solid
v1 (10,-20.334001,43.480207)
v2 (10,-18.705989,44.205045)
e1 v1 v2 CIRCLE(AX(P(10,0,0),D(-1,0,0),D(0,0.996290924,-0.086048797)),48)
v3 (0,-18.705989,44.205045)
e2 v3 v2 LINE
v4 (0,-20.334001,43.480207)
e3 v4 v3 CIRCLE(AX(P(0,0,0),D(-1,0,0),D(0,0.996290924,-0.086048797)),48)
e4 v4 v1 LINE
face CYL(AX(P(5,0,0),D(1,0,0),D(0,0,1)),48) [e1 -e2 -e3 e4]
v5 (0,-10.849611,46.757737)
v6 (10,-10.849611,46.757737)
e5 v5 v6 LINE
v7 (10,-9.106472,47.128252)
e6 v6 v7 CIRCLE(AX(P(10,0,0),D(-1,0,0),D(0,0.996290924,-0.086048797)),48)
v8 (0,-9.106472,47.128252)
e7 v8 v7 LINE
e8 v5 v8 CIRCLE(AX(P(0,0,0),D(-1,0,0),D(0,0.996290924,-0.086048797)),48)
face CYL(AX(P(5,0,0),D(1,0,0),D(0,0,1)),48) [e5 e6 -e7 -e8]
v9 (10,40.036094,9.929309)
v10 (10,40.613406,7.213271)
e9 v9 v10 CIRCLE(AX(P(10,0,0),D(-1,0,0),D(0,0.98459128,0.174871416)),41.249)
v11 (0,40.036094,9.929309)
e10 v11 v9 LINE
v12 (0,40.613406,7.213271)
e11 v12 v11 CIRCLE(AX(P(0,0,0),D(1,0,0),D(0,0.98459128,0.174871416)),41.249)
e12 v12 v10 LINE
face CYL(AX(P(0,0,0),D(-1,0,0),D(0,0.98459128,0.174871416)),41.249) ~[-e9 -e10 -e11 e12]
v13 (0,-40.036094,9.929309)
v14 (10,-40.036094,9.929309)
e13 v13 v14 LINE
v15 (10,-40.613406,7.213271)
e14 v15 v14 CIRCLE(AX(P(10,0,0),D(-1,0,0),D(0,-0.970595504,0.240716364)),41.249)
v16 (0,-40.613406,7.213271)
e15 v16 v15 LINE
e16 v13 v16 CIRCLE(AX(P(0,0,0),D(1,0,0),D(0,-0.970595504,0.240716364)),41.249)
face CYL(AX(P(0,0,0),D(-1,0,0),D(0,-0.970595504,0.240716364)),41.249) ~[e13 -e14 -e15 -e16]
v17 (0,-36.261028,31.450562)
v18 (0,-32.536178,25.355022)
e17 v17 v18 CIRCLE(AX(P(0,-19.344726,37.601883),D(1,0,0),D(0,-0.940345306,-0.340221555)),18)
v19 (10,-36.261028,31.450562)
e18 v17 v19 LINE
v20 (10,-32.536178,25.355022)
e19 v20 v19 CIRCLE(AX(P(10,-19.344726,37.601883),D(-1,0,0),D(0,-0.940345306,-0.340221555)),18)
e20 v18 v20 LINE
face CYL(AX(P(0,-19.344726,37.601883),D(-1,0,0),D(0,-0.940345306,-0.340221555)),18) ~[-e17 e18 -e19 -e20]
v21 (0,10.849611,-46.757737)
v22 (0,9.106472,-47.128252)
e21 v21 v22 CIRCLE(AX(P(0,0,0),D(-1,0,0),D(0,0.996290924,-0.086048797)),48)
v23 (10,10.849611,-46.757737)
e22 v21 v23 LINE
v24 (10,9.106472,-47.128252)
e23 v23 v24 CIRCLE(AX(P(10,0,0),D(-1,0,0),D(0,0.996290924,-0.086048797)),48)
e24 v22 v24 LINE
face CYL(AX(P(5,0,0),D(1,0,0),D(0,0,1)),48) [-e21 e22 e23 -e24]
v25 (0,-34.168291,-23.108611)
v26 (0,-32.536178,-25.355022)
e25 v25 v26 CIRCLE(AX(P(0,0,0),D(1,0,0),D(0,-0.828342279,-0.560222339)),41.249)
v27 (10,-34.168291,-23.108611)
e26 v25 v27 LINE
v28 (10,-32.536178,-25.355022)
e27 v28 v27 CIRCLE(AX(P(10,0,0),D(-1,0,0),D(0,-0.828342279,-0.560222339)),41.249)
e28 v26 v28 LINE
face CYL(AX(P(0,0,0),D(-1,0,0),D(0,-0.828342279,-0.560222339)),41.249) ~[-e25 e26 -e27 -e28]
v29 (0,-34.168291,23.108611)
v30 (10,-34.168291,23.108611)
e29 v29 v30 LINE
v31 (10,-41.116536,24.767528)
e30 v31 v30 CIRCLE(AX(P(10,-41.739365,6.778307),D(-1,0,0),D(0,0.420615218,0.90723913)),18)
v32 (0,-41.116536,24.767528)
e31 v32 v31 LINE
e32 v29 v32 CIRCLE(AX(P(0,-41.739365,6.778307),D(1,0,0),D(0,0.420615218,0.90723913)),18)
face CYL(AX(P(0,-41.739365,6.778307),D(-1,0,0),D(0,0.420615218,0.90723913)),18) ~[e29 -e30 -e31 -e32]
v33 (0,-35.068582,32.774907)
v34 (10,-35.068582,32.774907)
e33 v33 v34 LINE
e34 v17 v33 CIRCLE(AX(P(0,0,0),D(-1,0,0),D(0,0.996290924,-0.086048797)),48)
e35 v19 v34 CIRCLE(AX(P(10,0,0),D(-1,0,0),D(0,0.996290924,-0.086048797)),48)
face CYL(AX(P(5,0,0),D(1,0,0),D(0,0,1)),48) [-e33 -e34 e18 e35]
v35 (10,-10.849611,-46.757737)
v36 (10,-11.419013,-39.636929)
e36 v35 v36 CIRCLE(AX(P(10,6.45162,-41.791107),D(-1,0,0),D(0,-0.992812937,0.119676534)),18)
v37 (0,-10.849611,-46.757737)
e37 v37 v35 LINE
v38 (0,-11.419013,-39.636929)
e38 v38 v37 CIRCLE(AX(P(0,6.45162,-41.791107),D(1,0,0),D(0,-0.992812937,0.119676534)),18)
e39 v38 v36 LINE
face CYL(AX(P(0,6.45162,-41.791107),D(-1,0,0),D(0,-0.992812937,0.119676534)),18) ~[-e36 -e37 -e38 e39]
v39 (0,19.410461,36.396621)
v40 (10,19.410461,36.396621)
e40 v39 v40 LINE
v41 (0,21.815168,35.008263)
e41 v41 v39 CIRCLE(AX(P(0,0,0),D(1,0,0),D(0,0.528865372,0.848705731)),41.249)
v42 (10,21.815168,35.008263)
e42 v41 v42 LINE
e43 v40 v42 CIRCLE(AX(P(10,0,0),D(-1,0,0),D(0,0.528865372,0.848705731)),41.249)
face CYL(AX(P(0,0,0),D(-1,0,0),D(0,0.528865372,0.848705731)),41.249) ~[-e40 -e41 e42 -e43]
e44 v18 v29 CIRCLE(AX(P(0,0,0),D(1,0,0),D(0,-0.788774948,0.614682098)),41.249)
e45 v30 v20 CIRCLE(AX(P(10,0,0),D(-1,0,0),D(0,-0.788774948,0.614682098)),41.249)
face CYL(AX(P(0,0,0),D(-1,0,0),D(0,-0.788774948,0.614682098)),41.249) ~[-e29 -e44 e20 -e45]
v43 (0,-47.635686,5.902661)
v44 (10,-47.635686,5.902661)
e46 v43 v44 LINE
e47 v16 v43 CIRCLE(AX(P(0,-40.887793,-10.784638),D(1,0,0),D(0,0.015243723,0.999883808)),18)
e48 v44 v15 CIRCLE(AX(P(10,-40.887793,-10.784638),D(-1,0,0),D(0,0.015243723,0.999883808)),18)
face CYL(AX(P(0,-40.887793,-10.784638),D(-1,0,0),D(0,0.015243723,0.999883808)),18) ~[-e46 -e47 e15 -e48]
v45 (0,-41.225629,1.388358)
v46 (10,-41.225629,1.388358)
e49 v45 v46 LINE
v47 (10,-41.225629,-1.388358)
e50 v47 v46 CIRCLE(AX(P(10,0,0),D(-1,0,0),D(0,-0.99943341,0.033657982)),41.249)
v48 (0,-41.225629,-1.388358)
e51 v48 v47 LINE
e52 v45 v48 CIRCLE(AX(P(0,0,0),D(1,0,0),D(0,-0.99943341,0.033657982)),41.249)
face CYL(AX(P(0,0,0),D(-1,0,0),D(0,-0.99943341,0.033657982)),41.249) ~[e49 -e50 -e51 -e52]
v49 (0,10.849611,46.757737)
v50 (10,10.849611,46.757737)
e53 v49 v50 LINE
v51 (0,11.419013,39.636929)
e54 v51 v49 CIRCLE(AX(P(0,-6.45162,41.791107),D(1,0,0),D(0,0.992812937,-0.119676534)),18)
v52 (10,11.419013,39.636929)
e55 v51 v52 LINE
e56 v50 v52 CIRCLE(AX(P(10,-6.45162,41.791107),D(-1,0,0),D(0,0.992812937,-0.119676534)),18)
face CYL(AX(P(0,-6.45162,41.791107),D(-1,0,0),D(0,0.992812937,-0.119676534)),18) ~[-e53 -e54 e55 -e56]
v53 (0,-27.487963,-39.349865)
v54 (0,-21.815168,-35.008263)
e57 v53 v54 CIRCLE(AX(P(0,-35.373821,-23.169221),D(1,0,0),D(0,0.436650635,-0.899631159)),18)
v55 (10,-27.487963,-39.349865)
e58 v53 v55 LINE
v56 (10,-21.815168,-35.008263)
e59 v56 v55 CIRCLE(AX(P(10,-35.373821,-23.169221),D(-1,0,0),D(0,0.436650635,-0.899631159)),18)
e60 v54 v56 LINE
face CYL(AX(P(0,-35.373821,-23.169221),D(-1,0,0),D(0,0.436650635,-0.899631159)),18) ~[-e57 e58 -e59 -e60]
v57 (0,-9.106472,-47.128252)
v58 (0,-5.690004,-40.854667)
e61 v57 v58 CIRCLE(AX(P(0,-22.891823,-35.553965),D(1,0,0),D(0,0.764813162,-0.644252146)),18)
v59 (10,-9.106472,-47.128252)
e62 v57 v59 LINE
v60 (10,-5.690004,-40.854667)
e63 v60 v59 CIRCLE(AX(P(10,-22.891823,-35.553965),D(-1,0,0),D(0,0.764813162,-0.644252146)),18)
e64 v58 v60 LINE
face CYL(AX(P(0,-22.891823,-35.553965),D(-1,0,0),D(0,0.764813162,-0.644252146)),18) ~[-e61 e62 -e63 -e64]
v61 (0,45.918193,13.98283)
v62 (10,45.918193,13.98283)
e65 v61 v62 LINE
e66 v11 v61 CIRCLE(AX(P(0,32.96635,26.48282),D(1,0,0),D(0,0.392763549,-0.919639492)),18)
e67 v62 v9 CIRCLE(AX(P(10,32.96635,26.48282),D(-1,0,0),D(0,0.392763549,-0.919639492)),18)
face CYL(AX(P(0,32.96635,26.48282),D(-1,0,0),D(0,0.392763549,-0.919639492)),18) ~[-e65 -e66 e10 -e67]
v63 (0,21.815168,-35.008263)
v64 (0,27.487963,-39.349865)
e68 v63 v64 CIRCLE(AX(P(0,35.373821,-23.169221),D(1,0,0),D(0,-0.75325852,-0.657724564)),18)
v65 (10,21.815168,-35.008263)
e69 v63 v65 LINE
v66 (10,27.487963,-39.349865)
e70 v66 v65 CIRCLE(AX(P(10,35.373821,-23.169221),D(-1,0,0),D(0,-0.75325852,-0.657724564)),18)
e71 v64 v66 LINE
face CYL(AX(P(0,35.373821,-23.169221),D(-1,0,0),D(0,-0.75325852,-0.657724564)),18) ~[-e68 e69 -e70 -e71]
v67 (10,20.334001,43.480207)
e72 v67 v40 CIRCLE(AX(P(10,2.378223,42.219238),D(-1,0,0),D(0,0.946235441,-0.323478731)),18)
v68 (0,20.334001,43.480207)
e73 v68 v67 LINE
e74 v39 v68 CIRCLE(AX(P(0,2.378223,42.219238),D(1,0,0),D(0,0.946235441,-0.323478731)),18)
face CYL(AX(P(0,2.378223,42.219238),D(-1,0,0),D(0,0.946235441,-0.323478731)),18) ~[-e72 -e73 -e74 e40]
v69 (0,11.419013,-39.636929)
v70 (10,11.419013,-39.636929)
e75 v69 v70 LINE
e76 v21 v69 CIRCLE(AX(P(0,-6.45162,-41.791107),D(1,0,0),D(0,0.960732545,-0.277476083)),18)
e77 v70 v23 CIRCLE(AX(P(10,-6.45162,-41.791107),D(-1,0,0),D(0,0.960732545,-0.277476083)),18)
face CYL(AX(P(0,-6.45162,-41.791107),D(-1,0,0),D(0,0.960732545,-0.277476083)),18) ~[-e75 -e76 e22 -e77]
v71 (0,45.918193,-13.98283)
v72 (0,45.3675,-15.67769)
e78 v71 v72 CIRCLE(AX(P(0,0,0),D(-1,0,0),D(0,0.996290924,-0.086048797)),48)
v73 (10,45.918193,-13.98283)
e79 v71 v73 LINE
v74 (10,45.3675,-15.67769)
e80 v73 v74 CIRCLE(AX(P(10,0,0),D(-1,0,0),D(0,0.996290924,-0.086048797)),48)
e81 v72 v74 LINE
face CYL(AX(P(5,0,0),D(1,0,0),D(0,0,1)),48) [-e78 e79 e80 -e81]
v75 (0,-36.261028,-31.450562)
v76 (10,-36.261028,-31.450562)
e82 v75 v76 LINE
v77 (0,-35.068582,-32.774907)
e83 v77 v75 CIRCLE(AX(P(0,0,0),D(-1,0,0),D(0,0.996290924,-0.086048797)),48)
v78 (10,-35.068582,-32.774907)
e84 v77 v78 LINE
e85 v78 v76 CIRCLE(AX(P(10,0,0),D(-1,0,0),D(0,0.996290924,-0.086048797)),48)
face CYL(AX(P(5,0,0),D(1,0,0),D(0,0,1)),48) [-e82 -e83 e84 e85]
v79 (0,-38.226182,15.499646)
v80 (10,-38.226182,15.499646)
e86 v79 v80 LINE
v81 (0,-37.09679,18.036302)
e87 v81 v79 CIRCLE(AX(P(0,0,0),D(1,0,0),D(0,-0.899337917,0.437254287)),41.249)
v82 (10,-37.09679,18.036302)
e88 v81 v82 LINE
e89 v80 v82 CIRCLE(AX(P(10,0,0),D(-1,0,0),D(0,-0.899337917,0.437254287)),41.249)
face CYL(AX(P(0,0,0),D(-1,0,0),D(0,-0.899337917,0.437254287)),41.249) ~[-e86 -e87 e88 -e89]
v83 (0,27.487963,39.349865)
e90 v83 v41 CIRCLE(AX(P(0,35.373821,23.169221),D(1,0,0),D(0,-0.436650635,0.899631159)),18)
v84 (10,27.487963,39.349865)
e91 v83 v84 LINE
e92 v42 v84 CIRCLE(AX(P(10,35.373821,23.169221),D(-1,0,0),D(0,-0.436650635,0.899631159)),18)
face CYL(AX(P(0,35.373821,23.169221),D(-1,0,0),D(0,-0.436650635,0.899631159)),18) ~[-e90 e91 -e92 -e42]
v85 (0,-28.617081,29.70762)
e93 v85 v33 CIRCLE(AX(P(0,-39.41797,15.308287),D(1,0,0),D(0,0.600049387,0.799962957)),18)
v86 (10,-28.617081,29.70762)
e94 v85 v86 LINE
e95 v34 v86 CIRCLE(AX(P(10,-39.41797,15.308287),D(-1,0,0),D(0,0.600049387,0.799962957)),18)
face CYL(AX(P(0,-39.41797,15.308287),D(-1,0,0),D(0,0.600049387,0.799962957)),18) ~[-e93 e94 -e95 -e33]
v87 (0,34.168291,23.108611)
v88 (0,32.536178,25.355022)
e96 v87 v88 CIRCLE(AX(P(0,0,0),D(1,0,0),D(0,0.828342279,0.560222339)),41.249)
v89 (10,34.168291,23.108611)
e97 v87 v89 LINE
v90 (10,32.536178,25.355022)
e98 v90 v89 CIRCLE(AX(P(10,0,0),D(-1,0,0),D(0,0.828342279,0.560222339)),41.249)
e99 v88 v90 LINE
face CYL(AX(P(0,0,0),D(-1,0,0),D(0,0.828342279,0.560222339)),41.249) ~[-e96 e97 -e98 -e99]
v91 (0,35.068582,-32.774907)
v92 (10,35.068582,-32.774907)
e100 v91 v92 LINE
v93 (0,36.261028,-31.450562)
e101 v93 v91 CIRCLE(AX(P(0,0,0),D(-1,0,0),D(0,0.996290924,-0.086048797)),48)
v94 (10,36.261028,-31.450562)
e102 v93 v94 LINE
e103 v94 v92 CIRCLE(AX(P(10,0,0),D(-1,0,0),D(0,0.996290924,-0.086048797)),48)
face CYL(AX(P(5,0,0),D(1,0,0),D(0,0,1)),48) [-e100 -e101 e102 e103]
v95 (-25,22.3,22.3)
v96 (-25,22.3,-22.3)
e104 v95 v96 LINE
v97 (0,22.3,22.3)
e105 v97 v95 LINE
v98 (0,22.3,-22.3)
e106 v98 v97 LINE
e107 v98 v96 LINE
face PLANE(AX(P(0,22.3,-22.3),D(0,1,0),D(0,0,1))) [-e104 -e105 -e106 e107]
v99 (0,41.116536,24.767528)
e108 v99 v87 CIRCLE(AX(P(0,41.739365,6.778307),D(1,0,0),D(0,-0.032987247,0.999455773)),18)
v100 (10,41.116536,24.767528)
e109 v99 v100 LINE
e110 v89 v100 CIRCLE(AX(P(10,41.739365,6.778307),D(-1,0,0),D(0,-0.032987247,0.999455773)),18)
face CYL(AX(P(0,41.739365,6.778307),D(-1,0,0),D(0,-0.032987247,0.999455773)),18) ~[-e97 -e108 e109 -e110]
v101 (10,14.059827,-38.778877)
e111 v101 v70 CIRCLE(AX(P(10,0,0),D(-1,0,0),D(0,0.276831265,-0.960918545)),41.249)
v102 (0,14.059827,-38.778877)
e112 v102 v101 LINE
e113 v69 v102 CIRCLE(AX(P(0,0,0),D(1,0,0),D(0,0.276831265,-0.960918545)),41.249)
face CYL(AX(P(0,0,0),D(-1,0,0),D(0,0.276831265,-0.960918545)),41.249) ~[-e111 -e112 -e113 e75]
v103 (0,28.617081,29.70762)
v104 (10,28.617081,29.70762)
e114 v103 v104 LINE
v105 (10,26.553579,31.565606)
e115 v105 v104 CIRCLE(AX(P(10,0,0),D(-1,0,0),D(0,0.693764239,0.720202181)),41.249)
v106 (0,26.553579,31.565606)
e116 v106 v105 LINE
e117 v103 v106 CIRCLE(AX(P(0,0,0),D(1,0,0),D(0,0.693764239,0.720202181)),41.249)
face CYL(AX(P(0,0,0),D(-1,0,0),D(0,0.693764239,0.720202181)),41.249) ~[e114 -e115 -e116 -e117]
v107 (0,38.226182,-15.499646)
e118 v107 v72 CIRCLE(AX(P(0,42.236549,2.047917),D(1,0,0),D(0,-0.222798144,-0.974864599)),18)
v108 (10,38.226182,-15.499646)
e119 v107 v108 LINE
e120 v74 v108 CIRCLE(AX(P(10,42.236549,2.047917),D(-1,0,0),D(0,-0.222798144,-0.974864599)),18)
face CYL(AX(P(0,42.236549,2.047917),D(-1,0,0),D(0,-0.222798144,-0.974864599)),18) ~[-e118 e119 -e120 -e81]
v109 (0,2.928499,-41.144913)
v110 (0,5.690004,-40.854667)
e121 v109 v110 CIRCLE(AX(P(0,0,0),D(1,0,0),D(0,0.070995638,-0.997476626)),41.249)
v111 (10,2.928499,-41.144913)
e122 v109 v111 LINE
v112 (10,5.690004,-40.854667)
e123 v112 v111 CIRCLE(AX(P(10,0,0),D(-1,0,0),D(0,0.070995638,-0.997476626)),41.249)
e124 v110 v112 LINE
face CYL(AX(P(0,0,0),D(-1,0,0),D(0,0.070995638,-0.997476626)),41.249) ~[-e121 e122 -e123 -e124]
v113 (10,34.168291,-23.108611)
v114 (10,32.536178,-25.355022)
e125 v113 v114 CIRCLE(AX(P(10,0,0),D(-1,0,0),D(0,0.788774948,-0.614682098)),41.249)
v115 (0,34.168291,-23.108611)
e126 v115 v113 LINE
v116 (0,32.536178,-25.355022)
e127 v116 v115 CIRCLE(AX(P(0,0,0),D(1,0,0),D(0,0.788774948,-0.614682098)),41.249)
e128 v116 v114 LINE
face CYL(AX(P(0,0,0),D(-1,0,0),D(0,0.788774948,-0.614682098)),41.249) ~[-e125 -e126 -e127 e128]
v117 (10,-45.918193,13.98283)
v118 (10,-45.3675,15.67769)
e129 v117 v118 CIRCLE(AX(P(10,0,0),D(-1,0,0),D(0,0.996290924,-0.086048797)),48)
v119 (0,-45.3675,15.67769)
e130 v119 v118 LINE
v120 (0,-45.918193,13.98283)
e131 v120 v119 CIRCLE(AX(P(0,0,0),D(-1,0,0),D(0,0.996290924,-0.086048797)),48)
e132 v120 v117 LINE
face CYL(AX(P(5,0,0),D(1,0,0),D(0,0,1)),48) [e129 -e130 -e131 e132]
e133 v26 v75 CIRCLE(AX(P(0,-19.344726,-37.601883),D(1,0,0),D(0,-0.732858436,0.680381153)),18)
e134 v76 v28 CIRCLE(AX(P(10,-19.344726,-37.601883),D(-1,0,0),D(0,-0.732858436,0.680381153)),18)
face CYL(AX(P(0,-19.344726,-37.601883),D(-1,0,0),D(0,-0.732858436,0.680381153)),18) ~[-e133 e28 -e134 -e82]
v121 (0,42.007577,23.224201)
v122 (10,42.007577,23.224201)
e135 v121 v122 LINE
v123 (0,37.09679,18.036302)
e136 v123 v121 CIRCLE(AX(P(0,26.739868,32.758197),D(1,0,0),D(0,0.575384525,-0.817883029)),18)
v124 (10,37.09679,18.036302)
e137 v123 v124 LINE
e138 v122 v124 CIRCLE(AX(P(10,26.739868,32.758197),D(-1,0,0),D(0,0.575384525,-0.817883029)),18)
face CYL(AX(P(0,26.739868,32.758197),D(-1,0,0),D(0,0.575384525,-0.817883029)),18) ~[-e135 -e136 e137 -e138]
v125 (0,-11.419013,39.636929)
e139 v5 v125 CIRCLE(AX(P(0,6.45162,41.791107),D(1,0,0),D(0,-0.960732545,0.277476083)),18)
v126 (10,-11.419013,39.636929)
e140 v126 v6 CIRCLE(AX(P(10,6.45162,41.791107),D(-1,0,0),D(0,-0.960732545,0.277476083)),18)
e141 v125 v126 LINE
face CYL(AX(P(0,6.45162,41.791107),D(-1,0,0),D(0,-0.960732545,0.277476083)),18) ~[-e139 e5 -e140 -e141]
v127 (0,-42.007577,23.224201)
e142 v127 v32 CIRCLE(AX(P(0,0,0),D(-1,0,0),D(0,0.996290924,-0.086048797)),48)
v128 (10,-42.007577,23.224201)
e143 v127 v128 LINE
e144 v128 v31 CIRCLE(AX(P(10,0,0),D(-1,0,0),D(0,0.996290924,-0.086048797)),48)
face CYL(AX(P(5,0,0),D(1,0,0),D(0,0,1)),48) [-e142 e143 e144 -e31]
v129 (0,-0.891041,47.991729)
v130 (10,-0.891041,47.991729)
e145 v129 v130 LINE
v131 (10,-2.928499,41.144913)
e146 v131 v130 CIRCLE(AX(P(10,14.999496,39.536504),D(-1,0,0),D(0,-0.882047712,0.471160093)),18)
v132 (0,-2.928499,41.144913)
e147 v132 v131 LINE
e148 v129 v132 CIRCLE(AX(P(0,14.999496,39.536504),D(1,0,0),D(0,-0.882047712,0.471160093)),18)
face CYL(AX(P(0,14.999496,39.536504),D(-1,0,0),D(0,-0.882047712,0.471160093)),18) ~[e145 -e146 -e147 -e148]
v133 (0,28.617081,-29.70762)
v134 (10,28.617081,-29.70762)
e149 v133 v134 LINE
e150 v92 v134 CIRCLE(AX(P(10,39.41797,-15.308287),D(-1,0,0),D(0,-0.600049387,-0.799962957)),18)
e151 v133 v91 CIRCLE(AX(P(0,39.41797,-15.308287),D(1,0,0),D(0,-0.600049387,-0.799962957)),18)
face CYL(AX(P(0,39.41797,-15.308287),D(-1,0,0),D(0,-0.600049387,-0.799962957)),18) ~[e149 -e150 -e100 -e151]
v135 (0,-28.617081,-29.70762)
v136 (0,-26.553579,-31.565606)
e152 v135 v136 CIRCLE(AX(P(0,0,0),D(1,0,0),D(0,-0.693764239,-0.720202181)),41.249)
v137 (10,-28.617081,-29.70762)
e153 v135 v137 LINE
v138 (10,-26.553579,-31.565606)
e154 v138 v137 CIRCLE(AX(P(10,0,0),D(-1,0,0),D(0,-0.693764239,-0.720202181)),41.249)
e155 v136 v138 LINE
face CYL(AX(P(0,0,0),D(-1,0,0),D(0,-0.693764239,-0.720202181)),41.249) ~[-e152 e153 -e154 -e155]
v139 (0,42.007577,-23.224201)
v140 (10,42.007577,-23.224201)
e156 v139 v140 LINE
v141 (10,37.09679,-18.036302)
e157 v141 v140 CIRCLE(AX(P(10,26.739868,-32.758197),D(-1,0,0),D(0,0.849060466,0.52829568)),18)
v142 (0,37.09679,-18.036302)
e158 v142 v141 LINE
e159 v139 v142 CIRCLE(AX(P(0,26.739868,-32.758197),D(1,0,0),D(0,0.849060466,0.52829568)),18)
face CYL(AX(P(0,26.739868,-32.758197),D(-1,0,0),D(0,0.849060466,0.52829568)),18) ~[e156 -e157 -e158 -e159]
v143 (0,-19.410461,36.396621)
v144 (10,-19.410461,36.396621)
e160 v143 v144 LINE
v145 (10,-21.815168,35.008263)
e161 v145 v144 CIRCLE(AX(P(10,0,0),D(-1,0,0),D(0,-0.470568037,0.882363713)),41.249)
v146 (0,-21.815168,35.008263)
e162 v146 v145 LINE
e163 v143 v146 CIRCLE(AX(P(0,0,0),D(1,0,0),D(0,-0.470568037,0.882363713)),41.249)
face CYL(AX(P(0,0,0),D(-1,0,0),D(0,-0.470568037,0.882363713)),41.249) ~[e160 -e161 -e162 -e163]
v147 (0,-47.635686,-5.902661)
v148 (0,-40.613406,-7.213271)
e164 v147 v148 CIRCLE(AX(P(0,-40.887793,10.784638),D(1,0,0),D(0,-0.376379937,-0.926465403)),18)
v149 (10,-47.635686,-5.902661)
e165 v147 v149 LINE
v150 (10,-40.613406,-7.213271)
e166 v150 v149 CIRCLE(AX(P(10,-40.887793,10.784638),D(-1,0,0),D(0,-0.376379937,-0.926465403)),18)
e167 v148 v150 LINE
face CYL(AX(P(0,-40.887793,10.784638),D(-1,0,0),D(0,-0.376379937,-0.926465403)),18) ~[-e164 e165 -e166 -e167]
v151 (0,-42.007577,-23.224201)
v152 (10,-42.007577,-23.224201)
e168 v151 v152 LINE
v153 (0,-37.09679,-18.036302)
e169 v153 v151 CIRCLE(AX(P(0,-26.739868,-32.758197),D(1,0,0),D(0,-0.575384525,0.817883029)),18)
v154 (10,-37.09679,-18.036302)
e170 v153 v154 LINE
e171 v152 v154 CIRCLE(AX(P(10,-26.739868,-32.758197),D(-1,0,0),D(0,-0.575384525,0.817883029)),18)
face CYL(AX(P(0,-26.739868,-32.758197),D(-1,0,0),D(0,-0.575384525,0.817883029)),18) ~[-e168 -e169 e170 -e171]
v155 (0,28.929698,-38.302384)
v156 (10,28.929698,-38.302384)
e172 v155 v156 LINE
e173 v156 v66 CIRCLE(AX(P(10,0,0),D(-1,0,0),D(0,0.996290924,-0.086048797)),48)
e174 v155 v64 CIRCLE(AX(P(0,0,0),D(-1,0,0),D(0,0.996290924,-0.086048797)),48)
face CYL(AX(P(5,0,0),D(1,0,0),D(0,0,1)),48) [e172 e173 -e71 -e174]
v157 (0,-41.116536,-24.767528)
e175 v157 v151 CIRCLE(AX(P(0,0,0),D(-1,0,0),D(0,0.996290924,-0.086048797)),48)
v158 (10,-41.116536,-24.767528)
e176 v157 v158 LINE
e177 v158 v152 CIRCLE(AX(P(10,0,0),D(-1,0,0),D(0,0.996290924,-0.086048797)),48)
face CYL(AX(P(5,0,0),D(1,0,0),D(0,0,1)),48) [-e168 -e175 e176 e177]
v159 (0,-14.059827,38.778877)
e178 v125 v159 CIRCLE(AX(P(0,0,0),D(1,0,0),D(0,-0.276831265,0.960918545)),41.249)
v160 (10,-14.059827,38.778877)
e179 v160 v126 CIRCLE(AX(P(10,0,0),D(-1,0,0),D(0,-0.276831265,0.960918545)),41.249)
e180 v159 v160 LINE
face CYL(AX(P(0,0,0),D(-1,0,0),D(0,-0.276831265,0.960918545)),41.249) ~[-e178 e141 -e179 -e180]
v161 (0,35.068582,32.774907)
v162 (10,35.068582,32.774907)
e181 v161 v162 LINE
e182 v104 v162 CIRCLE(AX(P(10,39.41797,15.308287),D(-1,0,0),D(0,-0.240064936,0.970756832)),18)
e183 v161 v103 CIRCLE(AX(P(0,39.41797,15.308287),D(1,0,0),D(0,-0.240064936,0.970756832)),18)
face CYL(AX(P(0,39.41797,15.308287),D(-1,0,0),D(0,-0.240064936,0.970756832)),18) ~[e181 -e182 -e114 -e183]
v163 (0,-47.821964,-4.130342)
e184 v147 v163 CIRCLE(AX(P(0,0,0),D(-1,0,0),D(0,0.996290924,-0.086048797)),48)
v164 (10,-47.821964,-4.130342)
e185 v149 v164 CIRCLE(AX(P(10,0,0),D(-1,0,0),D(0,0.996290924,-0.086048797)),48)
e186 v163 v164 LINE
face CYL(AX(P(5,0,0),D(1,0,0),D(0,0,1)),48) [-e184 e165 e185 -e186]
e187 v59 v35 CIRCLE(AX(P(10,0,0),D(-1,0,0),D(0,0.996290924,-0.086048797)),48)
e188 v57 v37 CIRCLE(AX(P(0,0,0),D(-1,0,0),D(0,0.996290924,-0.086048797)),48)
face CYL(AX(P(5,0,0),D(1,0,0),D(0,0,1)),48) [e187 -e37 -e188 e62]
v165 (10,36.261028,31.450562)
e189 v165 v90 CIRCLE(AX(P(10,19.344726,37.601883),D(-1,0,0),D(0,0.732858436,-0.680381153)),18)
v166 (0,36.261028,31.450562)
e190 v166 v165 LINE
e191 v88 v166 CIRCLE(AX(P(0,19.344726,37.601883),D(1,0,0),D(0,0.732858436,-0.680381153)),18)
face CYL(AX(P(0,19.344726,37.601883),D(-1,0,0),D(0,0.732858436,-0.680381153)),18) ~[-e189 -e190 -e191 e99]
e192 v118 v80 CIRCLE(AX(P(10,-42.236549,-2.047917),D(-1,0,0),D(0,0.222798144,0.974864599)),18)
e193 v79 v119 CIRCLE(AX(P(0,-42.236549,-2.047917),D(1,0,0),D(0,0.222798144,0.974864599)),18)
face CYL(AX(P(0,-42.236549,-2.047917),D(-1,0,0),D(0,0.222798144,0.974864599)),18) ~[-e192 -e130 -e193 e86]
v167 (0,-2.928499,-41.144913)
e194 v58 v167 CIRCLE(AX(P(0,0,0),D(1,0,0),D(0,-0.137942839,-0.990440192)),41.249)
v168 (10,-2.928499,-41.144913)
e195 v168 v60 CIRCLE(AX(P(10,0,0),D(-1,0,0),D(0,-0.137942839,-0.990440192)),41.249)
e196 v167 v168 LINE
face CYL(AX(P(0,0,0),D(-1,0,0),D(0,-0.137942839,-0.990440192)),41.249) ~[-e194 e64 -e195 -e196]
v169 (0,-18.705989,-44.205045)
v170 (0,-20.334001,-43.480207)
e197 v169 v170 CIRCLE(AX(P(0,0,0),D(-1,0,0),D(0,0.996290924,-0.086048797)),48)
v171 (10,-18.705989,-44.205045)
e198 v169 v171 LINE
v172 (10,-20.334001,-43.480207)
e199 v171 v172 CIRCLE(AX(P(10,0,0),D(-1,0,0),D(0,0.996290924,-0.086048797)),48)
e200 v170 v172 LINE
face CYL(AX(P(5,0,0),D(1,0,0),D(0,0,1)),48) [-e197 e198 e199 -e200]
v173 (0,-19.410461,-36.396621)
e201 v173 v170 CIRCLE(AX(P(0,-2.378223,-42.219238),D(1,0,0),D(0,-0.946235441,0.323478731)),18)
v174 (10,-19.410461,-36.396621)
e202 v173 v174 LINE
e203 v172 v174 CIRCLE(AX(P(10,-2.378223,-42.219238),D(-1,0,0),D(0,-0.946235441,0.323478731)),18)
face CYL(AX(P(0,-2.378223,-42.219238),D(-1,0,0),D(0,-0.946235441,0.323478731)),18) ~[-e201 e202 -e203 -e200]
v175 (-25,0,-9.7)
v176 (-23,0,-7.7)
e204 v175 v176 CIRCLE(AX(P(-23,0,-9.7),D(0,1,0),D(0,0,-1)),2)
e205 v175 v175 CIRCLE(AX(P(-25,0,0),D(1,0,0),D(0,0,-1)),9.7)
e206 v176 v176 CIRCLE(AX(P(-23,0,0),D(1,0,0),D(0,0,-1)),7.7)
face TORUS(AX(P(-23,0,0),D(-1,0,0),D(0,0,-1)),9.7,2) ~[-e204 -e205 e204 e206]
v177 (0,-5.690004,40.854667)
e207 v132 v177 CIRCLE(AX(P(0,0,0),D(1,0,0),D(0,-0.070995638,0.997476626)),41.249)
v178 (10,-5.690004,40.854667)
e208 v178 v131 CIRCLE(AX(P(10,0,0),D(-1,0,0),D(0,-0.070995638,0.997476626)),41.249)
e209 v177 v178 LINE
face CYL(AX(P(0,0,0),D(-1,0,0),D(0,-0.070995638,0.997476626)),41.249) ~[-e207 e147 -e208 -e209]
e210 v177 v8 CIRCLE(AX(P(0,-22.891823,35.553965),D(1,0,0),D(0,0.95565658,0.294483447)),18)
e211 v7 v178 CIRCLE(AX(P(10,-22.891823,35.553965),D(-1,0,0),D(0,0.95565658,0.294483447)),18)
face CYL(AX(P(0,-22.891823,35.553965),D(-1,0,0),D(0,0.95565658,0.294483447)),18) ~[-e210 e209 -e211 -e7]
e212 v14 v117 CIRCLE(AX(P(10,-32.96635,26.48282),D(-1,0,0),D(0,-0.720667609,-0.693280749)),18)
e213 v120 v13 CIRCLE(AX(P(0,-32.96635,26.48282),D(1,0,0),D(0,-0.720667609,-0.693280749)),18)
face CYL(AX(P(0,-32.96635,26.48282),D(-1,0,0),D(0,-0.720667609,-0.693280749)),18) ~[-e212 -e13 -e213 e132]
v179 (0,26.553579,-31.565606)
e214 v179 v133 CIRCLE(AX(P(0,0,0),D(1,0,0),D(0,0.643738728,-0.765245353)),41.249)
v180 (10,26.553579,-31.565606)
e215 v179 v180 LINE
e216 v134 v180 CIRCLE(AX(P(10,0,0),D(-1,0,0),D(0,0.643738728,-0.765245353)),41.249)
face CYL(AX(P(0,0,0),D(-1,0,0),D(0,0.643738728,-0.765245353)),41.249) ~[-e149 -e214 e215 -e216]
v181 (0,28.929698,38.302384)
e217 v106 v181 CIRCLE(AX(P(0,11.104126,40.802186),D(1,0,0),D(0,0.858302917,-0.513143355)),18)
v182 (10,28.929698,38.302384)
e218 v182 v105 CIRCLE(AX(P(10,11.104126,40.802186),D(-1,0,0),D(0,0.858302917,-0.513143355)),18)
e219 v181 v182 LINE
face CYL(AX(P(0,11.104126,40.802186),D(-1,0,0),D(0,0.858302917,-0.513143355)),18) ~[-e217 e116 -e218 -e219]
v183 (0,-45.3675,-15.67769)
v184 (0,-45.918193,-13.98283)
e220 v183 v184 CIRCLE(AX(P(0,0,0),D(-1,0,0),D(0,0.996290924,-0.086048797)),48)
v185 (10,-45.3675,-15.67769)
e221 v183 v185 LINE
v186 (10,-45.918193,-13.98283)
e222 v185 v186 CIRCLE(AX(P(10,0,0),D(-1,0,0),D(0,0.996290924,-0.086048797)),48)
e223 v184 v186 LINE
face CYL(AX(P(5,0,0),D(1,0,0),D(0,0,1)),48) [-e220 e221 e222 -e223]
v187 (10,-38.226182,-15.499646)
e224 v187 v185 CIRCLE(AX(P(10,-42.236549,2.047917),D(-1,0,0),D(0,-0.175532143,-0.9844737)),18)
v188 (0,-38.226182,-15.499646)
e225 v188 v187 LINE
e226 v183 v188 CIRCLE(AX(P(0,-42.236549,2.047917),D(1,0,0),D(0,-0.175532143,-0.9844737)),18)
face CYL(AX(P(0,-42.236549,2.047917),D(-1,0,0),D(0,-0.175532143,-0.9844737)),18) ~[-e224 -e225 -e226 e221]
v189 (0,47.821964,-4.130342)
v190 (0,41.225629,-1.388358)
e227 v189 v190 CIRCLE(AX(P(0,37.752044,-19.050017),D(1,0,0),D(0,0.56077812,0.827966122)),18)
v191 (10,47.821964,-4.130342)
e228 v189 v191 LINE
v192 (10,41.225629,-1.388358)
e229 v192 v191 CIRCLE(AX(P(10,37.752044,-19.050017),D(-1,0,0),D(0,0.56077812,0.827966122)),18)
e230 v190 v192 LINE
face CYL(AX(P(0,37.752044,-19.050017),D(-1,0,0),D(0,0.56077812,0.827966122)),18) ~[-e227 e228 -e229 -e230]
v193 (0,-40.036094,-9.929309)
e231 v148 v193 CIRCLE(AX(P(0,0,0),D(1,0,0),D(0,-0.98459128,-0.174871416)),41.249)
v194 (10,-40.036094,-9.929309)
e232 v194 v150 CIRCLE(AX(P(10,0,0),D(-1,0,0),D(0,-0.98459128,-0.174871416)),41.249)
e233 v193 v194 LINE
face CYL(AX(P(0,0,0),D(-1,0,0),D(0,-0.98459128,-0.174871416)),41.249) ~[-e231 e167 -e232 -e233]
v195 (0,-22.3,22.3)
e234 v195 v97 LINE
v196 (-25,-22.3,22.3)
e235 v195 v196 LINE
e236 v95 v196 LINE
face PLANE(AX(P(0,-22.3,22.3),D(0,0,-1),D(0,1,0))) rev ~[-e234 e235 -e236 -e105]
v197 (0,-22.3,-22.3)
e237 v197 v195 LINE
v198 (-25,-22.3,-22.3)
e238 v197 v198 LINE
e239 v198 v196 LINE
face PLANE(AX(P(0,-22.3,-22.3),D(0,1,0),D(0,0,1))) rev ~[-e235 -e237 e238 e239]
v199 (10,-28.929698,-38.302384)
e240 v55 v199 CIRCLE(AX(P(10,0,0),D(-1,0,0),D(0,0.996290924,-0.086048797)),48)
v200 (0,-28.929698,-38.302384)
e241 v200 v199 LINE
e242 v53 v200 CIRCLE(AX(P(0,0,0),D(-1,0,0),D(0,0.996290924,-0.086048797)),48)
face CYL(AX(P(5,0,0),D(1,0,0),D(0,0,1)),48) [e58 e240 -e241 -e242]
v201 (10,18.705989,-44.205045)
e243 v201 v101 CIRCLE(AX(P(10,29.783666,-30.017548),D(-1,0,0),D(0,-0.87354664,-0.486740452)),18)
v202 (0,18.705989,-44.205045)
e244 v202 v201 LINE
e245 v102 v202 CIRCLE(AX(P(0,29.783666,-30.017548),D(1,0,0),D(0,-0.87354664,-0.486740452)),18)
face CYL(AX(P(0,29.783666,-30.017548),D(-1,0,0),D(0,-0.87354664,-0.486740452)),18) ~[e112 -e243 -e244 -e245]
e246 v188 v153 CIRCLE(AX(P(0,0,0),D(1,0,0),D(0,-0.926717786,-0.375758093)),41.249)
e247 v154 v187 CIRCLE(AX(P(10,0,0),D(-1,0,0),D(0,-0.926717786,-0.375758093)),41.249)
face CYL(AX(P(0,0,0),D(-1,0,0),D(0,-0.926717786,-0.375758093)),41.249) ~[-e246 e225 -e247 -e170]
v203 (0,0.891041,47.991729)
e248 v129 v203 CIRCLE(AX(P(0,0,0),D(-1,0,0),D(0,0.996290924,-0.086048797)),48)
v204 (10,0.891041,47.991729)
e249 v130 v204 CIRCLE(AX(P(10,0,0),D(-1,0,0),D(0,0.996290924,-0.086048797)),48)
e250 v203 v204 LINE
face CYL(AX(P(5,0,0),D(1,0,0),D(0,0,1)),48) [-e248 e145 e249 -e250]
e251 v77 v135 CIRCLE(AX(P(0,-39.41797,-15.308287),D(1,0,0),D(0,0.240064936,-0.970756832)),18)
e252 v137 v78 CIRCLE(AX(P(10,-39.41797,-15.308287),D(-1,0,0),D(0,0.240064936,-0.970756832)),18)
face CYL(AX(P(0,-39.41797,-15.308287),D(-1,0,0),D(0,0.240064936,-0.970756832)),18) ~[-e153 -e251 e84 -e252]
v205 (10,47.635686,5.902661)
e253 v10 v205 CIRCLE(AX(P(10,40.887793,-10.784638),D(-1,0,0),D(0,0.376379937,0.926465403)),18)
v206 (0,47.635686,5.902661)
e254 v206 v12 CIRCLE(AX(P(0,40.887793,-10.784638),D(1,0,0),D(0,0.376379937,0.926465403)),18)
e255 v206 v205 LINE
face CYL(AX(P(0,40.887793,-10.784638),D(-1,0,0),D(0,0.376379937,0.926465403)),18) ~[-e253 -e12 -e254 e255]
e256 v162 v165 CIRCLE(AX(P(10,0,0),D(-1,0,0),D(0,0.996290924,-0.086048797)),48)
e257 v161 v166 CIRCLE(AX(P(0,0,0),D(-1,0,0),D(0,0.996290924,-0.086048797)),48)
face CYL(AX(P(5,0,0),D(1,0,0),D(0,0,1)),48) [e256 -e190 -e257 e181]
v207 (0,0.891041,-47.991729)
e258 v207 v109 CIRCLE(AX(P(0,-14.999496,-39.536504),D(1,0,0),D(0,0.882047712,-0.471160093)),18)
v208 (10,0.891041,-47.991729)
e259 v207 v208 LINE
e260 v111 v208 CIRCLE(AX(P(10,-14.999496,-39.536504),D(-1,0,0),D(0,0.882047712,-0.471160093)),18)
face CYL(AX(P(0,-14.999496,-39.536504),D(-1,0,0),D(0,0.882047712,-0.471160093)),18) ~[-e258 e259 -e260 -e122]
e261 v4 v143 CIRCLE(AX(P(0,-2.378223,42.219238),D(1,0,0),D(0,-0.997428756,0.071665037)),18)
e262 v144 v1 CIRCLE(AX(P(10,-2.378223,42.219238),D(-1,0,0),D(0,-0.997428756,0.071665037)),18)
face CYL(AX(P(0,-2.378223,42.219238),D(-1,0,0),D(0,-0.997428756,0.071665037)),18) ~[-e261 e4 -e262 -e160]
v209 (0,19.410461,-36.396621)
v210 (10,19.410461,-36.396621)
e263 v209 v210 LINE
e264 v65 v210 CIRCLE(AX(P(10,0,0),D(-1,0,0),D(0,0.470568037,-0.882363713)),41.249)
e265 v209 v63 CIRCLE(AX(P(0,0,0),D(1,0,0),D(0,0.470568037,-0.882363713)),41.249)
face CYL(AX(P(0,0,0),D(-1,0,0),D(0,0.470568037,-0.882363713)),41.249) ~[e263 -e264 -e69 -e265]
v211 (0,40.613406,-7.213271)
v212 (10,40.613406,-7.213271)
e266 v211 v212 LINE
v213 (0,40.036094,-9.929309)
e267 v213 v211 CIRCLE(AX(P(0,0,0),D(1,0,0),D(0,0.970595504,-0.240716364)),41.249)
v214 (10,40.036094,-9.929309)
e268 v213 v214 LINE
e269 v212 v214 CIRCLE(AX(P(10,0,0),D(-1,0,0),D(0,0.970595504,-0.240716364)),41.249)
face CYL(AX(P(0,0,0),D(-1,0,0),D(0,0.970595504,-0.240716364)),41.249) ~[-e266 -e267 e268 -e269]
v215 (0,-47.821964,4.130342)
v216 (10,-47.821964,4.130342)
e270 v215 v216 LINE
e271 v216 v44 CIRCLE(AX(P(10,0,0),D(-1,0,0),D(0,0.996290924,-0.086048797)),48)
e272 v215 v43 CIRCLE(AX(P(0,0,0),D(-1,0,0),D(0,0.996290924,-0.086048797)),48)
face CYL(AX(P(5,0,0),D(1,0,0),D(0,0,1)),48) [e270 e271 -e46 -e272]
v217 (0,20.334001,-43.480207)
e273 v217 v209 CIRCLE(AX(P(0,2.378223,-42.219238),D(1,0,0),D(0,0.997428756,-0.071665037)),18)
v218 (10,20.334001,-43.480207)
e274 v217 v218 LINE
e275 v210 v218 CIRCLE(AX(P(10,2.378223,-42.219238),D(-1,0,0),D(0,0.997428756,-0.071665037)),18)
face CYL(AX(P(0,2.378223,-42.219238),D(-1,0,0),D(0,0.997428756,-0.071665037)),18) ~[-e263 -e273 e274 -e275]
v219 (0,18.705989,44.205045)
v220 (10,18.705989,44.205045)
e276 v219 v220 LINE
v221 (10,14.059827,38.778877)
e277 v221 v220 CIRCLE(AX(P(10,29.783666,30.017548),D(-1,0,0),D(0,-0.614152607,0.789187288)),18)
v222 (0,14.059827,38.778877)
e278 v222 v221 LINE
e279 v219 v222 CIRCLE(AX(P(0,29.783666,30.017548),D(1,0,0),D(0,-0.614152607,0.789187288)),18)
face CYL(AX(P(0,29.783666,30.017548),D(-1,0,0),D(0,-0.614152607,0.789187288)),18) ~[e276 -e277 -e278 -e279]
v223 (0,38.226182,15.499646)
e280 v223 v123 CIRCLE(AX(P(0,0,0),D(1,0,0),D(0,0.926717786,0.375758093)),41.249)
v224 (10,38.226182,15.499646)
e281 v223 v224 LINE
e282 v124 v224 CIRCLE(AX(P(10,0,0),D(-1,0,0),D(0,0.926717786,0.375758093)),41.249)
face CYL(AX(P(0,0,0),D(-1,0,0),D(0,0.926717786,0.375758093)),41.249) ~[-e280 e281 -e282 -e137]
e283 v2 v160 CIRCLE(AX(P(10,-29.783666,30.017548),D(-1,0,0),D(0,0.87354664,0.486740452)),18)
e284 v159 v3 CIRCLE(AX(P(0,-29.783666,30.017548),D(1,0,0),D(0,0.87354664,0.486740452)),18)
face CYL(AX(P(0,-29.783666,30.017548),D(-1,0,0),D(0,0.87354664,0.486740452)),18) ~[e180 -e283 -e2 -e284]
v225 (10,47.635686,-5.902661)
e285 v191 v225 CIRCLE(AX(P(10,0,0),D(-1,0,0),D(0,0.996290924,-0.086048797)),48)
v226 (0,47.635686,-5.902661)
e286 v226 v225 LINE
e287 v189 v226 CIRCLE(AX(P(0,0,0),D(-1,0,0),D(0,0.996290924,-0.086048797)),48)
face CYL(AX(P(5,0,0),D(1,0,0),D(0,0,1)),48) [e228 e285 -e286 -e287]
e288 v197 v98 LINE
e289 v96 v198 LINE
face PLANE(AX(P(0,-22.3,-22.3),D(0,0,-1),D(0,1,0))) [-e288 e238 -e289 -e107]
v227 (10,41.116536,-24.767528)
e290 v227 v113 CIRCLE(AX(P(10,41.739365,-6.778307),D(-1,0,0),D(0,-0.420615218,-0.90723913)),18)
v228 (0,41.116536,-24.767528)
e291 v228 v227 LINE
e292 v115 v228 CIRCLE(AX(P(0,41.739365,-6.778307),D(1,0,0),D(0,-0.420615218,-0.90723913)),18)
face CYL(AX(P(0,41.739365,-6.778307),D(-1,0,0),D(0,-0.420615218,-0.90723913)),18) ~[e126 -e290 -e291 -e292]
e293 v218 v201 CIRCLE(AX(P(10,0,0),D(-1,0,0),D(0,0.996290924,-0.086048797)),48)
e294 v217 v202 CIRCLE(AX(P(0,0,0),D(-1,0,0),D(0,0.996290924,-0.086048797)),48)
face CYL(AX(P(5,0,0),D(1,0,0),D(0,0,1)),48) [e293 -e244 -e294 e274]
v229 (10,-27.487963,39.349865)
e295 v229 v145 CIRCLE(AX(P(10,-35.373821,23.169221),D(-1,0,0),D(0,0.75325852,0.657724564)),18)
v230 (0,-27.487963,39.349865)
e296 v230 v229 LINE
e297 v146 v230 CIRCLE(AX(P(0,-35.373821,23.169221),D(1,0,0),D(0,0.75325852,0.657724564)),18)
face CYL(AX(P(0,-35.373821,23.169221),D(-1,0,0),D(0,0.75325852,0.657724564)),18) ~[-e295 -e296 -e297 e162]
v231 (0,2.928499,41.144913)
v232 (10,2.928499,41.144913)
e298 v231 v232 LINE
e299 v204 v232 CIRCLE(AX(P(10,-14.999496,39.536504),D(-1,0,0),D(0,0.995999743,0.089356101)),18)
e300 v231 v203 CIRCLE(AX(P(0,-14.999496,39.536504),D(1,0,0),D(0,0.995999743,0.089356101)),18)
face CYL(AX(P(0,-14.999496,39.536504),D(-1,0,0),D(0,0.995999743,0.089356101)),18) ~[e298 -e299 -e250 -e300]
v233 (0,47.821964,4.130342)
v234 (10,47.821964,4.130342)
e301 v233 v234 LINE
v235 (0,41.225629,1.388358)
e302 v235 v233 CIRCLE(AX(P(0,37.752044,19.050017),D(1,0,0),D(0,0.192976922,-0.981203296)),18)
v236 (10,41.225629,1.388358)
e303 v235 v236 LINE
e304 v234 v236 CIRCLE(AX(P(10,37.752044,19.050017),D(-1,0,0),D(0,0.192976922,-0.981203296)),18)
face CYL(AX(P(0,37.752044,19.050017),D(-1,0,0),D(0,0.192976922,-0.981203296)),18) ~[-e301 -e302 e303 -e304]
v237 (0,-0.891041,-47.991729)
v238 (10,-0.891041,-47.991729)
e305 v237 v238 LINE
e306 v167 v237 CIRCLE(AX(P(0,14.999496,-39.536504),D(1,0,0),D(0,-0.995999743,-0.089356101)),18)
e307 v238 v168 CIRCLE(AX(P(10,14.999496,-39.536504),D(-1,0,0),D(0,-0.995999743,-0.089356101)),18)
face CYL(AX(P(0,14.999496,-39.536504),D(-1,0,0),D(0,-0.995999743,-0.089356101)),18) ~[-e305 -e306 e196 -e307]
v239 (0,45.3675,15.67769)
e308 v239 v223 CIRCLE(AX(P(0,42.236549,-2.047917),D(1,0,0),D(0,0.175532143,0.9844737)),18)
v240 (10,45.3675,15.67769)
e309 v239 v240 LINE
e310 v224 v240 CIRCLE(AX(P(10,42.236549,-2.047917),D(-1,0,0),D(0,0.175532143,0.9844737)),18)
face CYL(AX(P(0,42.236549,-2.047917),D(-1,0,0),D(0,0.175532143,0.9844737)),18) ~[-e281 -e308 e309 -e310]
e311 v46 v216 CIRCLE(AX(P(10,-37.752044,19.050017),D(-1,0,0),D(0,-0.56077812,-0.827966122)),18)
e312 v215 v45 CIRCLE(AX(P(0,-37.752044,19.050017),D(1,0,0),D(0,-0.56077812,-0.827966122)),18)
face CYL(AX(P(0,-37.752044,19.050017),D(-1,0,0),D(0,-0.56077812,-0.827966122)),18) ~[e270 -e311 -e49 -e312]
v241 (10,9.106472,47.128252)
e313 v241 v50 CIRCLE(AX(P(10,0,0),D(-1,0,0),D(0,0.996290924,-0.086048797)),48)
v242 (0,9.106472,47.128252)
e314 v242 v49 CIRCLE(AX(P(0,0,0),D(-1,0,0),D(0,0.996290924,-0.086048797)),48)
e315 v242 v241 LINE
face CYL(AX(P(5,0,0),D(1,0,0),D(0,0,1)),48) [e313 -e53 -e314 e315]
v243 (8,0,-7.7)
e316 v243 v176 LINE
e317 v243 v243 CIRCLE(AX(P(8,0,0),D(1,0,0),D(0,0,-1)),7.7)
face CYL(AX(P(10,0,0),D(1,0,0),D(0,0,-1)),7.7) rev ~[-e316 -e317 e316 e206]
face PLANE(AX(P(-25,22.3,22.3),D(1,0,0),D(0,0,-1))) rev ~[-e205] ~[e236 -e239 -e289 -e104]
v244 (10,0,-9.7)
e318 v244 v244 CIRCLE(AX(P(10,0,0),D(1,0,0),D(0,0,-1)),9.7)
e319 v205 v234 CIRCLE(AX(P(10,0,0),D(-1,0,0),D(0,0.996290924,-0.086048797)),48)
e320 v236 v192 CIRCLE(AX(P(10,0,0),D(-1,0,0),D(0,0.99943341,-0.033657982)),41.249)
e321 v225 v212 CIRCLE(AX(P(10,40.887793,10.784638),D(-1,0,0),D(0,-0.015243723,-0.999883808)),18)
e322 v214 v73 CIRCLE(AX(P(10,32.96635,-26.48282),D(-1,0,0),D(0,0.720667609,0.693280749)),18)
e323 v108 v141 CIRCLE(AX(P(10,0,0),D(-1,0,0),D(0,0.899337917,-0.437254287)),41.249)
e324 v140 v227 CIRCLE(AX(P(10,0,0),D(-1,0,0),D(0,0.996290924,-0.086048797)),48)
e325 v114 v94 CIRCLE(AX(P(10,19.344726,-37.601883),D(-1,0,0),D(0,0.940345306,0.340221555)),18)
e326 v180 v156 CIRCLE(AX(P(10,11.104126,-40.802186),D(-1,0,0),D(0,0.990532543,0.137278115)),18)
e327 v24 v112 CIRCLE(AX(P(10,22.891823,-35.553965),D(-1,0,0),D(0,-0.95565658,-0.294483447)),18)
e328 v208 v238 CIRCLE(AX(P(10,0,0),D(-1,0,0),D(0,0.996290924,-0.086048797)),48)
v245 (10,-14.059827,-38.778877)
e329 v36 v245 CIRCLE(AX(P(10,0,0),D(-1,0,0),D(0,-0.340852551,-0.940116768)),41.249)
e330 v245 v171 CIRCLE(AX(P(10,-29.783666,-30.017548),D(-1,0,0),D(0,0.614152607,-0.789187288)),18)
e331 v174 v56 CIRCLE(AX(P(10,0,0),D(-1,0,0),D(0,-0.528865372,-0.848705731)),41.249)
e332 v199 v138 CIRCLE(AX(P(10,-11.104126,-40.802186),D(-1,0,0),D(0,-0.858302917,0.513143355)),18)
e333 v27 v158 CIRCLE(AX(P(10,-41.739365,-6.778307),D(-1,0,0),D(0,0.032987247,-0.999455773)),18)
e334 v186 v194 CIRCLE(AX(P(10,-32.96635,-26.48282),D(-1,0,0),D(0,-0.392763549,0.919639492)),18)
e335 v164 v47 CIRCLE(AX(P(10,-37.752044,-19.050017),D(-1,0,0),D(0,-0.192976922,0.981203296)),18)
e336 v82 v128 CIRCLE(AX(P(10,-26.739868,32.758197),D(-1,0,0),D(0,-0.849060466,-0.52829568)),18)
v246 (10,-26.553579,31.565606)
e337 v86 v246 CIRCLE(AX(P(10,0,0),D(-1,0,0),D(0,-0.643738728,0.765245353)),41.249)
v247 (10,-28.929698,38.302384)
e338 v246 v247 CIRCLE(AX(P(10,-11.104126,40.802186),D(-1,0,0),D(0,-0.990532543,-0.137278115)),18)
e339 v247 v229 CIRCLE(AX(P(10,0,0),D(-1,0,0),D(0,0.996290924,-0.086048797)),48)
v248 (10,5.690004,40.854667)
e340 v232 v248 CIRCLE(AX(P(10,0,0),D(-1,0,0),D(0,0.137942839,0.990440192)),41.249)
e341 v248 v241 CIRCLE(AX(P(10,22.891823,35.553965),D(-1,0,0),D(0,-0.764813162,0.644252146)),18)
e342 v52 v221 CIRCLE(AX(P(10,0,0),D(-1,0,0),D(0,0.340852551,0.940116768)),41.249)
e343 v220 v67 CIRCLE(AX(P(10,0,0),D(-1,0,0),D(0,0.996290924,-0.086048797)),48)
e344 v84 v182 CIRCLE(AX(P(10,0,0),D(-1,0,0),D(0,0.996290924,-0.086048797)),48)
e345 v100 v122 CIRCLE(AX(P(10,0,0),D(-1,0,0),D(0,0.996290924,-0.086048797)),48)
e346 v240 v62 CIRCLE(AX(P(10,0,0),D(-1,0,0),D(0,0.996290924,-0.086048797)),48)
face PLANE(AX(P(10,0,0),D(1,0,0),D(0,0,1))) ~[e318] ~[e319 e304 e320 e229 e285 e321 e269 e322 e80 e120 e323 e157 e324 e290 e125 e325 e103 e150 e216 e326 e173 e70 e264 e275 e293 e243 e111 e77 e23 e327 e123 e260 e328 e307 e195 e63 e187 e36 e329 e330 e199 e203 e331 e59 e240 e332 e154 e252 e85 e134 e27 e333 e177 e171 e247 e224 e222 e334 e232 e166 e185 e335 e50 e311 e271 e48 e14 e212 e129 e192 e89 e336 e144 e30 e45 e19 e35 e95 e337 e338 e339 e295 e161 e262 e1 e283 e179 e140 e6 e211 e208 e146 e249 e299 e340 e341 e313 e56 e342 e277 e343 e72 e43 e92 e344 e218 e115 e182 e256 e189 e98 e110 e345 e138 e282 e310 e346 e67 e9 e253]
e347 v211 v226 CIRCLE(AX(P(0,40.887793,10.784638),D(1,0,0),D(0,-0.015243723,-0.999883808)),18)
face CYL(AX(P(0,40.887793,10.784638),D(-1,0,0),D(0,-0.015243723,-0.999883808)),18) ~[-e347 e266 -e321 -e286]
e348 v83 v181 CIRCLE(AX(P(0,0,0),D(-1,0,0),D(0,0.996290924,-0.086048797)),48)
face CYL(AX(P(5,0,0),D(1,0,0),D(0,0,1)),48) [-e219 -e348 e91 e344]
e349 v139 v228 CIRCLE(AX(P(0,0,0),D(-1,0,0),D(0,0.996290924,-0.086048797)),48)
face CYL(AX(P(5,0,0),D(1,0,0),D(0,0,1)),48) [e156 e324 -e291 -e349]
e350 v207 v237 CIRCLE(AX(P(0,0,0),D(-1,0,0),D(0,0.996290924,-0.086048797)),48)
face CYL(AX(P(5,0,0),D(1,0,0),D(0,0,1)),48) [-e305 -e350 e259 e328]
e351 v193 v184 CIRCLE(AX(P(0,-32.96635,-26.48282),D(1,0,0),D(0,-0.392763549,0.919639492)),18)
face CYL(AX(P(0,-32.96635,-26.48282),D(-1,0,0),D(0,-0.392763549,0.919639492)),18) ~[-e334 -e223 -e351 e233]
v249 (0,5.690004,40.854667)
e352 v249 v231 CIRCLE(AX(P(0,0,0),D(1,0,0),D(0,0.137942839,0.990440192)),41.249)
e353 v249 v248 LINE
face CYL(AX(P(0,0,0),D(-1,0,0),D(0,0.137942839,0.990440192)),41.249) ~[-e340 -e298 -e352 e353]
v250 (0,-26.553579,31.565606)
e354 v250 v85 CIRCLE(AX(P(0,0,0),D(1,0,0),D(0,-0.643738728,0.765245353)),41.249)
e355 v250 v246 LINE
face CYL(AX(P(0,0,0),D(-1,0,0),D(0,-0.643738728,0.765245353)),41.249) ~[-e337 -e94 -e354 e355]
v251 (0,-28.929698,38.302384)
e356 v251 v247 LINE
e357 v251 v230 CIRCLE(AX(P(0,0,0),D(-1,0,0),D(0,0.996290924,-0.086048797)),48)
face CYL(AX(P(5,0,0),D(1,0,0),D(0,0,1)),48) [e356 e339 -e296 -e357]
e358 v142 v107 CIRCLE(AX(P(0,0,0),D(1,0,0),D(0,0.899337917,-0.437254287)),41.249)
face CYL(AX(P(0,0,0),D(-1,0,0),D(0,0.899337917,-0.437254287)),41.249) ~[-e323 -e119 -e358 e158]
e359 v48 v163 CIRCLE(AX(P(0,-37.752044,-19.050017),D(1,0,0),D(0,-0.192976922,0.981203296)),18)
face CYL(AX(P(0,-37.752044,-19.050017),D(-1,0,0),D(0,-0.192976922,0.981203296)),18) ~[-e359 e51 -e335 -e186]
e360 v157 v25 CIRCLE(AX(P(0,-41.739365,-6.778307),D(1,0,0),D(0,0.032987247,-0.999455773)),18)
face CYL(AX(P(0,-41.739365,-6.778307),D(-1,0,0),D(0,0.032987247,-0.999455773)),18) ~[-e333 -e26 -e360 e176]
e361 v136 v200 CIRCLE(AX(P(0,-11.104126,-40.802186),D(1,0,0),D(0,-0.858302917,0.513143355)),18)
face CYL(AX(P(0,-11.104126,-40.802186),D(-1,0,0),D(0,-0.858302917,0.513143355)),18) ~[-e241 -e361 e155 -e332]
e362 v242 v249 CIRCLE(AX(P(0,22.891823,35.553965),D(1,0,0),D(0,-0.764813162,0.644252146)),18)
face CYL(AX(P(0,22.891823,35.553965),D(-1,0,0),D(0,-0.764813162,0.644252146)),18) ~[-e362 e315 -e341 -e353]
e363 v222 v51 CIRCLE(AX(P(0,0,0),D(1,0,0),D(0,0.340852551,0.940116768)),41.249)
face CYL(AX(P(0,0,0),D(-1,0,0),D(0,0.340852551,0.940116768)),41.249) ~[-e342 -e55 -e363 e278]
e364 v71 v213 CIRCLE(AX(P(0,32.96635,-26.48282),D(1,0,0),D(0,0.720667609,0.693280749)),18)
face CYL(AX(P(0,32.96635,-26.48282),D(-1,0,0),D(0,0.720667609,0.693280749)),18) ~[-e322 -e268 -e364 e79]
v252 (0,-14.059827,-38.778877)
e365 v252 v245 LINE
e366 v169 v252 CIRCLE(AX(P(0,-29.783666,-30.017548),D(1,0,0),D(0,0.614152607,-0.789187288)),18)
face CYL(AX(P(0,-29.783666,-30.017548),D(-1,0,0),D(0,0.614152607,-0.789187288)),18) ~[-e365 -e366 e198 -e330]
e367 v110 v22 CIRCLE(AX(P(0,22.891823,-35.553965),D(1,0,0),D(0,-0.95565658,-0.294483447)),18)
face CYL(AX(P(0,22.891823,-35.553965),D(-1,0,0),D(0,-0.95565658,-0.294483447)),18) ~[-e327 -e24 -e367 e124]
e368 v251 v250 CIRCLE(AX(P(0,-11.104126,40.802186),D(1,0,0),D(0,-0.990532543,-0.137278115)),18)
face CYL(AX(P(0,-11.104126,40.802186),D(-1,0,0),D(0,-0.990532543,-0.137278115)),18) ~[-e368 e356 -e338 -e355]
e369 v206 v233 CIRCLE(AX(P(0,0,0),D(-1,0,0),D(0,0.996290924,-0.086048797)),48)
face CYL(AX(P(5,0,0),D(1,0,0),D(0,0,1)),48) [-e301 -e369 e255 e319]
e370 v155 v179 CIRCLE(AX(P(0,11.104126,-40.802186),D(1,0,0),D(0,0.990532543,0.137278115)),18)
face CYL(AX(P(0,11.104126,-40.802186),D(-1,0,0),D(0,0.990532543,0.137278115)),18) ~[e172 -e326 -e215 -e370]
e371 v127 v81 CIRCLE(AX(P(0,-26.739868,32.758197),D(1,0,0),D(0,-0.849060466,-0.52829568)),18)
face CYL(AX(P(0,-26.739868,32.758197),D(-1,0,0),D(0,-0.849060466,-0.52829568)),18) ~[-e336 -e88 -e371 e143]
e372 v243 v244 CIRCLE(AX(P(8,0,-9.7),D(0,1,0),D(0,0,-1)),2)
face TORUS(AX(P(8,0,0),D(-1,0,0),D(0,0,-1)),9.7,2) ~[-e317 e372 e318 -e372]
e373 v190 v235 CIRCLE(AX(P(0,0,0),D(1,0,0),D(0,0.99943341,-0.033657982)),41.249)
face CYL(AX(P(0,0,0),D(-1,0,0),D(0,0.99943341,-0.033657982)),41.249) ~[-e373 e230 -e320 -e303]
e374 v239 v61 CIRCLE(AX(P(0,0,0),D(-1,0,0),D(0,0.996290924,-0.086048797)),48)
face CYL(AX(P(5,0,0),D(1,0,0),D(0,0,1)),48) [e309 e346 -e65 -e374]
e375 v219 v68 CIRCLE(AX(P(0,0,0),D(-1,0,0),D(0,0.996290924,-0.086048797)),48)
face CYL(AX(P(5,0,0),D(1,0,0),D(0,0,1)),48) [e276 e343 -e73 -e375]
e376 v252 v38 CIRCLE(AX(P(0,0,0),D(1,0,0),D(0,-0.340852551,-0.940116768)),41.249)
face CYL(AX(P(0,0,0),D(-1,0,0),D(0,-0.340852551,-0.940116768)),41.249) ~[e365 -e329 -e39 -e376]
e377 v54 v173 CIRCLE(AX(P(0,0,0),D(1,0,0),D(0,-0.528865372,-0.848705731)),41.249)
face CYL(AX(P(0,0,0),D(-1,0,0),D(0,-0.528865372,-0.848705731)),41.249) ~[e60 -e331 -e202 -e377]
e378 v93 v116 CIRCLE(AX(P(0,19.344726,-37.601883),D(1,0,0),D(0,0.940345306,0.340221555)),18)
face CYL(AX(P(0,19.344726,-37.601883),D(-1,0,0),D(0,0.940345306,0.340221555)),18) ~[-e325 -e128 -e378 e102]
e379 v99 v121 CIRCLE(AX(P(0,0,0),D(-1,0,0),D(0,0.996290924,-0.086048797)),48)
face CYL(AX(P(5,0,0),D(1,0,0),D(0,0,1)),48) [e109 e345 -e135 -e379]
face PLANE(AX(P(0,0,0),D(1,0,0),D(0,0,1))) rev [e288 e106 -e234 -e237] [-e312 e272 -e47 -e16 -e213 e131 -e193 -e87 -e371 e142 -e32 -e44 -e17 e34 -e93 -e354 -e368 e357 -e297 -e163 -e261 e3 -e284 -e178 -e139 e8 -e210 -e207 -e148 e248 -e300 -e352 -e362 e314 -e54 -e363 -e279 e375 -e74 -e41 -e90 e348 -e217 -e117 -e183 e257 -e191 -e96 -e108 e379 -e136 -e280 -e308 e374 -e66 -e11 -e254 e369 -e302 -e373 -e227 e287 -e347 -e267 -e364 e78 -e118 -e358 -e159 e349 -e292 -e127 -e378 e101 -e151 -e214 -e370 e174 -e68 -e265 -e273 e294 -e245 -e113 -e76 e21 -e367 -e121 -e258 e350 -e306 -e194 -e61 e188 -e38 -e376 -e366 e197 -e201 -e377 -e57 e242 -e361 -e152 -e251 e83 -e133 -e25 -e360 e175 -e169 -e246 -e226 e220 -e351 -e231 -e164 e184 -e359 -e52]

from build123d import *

# Parameters (mm, degrees)
BASPROSKE_W         = 10
BASPROSKE_H         = 48
TOOTHCUT_DEPTH      = 69.614867194
TEETHCUTS_COUNT     = 30
TEETHCUTS_ANGLE     = 348
BORSKE_R            = 5
BORE_DEPTH          = 50.0000508
SKETCH2_W           = 44.6
SKETCH2_H           = 44.6
BOSS_EXTRUDE1_DEPTH = 60
CUT_EXTRUDE1_REACH  = 99.421
SKETCH1_R           = 7.7
CUT_EXTRUDE2_REACH  = 106.024
SKETCH3_W           = 35
SKETCH3_H           = 44.6
FILLET1_R           = 2


with BuildPart() as part:
    # BasProSke → Base-Revolve (revolve)
    with BuildSketch(Plane(origin=(0, 0, 0), x_dir=(1, 0, 0), z_dir=(0, 1, 0)), mode=Mode.PRIVATE) as base_revolve_sk:
        with Locations((5, 24)):
            Rectangle(BASPROSKE_W, BASPROSKE_H)
    revolve(base_revolve_sk.sketch.rotate(Axis((-10, 0, 0), (1, 0, 0)), 180), axis=Axis((-10, 0, 0), (1, 0, 0)))

    # TooCutSke → ToothCut (cut, through all)
    with BuildSketch(Plane(origin=(0, 0, 0), x_dir=(0, 0, -1), z_dir=(1, 0, 0))):
        with BuildLine():
            ThreePointArc((1.388358102, 41.225628713), (0, 41.249), (-1.388358102, 41.225628713))
            ThreePointArc((-1.388358102, 41.225628713), (-2.434419088, 44.674608087), (-4.146627223, 47.846050285))
            ThreePointArc((-4.146627223, 47.846050285), (0, 48.0254), (4.146627223, 47.846050285))
            ThreePointArc((4.146627223, 47.846050285), (2.434419088, 44.674608087), (1.388358102, 41.225628713))
        make_face()
    toothcut = extrude(amount=TOOTHCUT_DEPTH, mode=Mode.SUBTRACT)

    # TeethCuts: ToothCut ×30 about axis
    teethcuts_axis = Axis((-10, 0, 0), (1, 0, 0))
    for i in range(1, TEETHCUTS_COUNT):
        add(toothcut.rotate(teethcuts_axis, i * TEETHCUTS_ANGLE / (TEETHCUTS_COUNT - 1)), mode=Mode.SUBTRACT)

    # BorSke → Bore (cut, symmetric)
    with BuildSketch(Plane(origin=(0, 0, 0), x_dir=(0, 0, -1), z_dir=(1, 0, 0))):
        with Locations(Location((0, 0, 0), (0, 0, 180))):
            Circle(BORSKE_R)
    extrude(amount=BORE_DEPTH, both=True, mode=Mode.SUBTRACT)

    # Sketch2 → Boss-Extrude1 (add)
    with BuildSketch(Plane.ZY):
        Rectangle(SKETCH2_W, SKETCH2_H)
    extrude(amount=BOSS_EXTRUDE1_DEPTH)

    # Sketch1 → Cut-Extrude1 (cut, up to next)
    with BuildSketch(Plane(origin=(10, 0, 0), x_dir=(0, 0, -1), z_dir=(1, 0, 0)), mode=Mode.PRIVATE) as cut_extrude1_sk1:
        Circle(SKETCH1_R)
    cut_extrude1_tool1 = extrude(cut_extrude1_sk1.sketch, amount=-CUT_EXTRUDE1_REACH, mode=Mode.PRIVATE) & part.part
    add(cut_extrude1_tool1.solids().sort_by_distance((10, 0, 0))[0], mode=Mode.SUBTRACT)

    # Sketch3 → Cut-Extrude2 (cut, up to next)
    with BuildSketch(Plane(origin=(0, 22.3, 0), x_dir=(1, 0, 0), z_dir=(0, 1, 0)), mode=Mode.PRIVATE) as cut_extrude2_sk1:
        with Locations((-42.5, 0)):
            Rectangle(SKETCH3_W, SKETCH3_H)
    cut_extrude2_tool1 = extrude(cut_extrude2_sk1.sketch, amount=-CUT_EXTRUDE2_REACH, mode=Mode.PRIVATE) & part.part
    add(cut_extrude2_tool1.solids().sort_by_distance((-42.5, 22.3, 0))[0], mode=Mode.SUBTRACT)

    # Fillet1
    fillet1_edges = [part.edges().sort_by_distance(p)[0] for p in [
        (10, 0, 7.7),
        (-25, 0, 7.7),
    ]]
    fillet(fillet1_edges, radius=FILLET1_R)


solid = part.part
